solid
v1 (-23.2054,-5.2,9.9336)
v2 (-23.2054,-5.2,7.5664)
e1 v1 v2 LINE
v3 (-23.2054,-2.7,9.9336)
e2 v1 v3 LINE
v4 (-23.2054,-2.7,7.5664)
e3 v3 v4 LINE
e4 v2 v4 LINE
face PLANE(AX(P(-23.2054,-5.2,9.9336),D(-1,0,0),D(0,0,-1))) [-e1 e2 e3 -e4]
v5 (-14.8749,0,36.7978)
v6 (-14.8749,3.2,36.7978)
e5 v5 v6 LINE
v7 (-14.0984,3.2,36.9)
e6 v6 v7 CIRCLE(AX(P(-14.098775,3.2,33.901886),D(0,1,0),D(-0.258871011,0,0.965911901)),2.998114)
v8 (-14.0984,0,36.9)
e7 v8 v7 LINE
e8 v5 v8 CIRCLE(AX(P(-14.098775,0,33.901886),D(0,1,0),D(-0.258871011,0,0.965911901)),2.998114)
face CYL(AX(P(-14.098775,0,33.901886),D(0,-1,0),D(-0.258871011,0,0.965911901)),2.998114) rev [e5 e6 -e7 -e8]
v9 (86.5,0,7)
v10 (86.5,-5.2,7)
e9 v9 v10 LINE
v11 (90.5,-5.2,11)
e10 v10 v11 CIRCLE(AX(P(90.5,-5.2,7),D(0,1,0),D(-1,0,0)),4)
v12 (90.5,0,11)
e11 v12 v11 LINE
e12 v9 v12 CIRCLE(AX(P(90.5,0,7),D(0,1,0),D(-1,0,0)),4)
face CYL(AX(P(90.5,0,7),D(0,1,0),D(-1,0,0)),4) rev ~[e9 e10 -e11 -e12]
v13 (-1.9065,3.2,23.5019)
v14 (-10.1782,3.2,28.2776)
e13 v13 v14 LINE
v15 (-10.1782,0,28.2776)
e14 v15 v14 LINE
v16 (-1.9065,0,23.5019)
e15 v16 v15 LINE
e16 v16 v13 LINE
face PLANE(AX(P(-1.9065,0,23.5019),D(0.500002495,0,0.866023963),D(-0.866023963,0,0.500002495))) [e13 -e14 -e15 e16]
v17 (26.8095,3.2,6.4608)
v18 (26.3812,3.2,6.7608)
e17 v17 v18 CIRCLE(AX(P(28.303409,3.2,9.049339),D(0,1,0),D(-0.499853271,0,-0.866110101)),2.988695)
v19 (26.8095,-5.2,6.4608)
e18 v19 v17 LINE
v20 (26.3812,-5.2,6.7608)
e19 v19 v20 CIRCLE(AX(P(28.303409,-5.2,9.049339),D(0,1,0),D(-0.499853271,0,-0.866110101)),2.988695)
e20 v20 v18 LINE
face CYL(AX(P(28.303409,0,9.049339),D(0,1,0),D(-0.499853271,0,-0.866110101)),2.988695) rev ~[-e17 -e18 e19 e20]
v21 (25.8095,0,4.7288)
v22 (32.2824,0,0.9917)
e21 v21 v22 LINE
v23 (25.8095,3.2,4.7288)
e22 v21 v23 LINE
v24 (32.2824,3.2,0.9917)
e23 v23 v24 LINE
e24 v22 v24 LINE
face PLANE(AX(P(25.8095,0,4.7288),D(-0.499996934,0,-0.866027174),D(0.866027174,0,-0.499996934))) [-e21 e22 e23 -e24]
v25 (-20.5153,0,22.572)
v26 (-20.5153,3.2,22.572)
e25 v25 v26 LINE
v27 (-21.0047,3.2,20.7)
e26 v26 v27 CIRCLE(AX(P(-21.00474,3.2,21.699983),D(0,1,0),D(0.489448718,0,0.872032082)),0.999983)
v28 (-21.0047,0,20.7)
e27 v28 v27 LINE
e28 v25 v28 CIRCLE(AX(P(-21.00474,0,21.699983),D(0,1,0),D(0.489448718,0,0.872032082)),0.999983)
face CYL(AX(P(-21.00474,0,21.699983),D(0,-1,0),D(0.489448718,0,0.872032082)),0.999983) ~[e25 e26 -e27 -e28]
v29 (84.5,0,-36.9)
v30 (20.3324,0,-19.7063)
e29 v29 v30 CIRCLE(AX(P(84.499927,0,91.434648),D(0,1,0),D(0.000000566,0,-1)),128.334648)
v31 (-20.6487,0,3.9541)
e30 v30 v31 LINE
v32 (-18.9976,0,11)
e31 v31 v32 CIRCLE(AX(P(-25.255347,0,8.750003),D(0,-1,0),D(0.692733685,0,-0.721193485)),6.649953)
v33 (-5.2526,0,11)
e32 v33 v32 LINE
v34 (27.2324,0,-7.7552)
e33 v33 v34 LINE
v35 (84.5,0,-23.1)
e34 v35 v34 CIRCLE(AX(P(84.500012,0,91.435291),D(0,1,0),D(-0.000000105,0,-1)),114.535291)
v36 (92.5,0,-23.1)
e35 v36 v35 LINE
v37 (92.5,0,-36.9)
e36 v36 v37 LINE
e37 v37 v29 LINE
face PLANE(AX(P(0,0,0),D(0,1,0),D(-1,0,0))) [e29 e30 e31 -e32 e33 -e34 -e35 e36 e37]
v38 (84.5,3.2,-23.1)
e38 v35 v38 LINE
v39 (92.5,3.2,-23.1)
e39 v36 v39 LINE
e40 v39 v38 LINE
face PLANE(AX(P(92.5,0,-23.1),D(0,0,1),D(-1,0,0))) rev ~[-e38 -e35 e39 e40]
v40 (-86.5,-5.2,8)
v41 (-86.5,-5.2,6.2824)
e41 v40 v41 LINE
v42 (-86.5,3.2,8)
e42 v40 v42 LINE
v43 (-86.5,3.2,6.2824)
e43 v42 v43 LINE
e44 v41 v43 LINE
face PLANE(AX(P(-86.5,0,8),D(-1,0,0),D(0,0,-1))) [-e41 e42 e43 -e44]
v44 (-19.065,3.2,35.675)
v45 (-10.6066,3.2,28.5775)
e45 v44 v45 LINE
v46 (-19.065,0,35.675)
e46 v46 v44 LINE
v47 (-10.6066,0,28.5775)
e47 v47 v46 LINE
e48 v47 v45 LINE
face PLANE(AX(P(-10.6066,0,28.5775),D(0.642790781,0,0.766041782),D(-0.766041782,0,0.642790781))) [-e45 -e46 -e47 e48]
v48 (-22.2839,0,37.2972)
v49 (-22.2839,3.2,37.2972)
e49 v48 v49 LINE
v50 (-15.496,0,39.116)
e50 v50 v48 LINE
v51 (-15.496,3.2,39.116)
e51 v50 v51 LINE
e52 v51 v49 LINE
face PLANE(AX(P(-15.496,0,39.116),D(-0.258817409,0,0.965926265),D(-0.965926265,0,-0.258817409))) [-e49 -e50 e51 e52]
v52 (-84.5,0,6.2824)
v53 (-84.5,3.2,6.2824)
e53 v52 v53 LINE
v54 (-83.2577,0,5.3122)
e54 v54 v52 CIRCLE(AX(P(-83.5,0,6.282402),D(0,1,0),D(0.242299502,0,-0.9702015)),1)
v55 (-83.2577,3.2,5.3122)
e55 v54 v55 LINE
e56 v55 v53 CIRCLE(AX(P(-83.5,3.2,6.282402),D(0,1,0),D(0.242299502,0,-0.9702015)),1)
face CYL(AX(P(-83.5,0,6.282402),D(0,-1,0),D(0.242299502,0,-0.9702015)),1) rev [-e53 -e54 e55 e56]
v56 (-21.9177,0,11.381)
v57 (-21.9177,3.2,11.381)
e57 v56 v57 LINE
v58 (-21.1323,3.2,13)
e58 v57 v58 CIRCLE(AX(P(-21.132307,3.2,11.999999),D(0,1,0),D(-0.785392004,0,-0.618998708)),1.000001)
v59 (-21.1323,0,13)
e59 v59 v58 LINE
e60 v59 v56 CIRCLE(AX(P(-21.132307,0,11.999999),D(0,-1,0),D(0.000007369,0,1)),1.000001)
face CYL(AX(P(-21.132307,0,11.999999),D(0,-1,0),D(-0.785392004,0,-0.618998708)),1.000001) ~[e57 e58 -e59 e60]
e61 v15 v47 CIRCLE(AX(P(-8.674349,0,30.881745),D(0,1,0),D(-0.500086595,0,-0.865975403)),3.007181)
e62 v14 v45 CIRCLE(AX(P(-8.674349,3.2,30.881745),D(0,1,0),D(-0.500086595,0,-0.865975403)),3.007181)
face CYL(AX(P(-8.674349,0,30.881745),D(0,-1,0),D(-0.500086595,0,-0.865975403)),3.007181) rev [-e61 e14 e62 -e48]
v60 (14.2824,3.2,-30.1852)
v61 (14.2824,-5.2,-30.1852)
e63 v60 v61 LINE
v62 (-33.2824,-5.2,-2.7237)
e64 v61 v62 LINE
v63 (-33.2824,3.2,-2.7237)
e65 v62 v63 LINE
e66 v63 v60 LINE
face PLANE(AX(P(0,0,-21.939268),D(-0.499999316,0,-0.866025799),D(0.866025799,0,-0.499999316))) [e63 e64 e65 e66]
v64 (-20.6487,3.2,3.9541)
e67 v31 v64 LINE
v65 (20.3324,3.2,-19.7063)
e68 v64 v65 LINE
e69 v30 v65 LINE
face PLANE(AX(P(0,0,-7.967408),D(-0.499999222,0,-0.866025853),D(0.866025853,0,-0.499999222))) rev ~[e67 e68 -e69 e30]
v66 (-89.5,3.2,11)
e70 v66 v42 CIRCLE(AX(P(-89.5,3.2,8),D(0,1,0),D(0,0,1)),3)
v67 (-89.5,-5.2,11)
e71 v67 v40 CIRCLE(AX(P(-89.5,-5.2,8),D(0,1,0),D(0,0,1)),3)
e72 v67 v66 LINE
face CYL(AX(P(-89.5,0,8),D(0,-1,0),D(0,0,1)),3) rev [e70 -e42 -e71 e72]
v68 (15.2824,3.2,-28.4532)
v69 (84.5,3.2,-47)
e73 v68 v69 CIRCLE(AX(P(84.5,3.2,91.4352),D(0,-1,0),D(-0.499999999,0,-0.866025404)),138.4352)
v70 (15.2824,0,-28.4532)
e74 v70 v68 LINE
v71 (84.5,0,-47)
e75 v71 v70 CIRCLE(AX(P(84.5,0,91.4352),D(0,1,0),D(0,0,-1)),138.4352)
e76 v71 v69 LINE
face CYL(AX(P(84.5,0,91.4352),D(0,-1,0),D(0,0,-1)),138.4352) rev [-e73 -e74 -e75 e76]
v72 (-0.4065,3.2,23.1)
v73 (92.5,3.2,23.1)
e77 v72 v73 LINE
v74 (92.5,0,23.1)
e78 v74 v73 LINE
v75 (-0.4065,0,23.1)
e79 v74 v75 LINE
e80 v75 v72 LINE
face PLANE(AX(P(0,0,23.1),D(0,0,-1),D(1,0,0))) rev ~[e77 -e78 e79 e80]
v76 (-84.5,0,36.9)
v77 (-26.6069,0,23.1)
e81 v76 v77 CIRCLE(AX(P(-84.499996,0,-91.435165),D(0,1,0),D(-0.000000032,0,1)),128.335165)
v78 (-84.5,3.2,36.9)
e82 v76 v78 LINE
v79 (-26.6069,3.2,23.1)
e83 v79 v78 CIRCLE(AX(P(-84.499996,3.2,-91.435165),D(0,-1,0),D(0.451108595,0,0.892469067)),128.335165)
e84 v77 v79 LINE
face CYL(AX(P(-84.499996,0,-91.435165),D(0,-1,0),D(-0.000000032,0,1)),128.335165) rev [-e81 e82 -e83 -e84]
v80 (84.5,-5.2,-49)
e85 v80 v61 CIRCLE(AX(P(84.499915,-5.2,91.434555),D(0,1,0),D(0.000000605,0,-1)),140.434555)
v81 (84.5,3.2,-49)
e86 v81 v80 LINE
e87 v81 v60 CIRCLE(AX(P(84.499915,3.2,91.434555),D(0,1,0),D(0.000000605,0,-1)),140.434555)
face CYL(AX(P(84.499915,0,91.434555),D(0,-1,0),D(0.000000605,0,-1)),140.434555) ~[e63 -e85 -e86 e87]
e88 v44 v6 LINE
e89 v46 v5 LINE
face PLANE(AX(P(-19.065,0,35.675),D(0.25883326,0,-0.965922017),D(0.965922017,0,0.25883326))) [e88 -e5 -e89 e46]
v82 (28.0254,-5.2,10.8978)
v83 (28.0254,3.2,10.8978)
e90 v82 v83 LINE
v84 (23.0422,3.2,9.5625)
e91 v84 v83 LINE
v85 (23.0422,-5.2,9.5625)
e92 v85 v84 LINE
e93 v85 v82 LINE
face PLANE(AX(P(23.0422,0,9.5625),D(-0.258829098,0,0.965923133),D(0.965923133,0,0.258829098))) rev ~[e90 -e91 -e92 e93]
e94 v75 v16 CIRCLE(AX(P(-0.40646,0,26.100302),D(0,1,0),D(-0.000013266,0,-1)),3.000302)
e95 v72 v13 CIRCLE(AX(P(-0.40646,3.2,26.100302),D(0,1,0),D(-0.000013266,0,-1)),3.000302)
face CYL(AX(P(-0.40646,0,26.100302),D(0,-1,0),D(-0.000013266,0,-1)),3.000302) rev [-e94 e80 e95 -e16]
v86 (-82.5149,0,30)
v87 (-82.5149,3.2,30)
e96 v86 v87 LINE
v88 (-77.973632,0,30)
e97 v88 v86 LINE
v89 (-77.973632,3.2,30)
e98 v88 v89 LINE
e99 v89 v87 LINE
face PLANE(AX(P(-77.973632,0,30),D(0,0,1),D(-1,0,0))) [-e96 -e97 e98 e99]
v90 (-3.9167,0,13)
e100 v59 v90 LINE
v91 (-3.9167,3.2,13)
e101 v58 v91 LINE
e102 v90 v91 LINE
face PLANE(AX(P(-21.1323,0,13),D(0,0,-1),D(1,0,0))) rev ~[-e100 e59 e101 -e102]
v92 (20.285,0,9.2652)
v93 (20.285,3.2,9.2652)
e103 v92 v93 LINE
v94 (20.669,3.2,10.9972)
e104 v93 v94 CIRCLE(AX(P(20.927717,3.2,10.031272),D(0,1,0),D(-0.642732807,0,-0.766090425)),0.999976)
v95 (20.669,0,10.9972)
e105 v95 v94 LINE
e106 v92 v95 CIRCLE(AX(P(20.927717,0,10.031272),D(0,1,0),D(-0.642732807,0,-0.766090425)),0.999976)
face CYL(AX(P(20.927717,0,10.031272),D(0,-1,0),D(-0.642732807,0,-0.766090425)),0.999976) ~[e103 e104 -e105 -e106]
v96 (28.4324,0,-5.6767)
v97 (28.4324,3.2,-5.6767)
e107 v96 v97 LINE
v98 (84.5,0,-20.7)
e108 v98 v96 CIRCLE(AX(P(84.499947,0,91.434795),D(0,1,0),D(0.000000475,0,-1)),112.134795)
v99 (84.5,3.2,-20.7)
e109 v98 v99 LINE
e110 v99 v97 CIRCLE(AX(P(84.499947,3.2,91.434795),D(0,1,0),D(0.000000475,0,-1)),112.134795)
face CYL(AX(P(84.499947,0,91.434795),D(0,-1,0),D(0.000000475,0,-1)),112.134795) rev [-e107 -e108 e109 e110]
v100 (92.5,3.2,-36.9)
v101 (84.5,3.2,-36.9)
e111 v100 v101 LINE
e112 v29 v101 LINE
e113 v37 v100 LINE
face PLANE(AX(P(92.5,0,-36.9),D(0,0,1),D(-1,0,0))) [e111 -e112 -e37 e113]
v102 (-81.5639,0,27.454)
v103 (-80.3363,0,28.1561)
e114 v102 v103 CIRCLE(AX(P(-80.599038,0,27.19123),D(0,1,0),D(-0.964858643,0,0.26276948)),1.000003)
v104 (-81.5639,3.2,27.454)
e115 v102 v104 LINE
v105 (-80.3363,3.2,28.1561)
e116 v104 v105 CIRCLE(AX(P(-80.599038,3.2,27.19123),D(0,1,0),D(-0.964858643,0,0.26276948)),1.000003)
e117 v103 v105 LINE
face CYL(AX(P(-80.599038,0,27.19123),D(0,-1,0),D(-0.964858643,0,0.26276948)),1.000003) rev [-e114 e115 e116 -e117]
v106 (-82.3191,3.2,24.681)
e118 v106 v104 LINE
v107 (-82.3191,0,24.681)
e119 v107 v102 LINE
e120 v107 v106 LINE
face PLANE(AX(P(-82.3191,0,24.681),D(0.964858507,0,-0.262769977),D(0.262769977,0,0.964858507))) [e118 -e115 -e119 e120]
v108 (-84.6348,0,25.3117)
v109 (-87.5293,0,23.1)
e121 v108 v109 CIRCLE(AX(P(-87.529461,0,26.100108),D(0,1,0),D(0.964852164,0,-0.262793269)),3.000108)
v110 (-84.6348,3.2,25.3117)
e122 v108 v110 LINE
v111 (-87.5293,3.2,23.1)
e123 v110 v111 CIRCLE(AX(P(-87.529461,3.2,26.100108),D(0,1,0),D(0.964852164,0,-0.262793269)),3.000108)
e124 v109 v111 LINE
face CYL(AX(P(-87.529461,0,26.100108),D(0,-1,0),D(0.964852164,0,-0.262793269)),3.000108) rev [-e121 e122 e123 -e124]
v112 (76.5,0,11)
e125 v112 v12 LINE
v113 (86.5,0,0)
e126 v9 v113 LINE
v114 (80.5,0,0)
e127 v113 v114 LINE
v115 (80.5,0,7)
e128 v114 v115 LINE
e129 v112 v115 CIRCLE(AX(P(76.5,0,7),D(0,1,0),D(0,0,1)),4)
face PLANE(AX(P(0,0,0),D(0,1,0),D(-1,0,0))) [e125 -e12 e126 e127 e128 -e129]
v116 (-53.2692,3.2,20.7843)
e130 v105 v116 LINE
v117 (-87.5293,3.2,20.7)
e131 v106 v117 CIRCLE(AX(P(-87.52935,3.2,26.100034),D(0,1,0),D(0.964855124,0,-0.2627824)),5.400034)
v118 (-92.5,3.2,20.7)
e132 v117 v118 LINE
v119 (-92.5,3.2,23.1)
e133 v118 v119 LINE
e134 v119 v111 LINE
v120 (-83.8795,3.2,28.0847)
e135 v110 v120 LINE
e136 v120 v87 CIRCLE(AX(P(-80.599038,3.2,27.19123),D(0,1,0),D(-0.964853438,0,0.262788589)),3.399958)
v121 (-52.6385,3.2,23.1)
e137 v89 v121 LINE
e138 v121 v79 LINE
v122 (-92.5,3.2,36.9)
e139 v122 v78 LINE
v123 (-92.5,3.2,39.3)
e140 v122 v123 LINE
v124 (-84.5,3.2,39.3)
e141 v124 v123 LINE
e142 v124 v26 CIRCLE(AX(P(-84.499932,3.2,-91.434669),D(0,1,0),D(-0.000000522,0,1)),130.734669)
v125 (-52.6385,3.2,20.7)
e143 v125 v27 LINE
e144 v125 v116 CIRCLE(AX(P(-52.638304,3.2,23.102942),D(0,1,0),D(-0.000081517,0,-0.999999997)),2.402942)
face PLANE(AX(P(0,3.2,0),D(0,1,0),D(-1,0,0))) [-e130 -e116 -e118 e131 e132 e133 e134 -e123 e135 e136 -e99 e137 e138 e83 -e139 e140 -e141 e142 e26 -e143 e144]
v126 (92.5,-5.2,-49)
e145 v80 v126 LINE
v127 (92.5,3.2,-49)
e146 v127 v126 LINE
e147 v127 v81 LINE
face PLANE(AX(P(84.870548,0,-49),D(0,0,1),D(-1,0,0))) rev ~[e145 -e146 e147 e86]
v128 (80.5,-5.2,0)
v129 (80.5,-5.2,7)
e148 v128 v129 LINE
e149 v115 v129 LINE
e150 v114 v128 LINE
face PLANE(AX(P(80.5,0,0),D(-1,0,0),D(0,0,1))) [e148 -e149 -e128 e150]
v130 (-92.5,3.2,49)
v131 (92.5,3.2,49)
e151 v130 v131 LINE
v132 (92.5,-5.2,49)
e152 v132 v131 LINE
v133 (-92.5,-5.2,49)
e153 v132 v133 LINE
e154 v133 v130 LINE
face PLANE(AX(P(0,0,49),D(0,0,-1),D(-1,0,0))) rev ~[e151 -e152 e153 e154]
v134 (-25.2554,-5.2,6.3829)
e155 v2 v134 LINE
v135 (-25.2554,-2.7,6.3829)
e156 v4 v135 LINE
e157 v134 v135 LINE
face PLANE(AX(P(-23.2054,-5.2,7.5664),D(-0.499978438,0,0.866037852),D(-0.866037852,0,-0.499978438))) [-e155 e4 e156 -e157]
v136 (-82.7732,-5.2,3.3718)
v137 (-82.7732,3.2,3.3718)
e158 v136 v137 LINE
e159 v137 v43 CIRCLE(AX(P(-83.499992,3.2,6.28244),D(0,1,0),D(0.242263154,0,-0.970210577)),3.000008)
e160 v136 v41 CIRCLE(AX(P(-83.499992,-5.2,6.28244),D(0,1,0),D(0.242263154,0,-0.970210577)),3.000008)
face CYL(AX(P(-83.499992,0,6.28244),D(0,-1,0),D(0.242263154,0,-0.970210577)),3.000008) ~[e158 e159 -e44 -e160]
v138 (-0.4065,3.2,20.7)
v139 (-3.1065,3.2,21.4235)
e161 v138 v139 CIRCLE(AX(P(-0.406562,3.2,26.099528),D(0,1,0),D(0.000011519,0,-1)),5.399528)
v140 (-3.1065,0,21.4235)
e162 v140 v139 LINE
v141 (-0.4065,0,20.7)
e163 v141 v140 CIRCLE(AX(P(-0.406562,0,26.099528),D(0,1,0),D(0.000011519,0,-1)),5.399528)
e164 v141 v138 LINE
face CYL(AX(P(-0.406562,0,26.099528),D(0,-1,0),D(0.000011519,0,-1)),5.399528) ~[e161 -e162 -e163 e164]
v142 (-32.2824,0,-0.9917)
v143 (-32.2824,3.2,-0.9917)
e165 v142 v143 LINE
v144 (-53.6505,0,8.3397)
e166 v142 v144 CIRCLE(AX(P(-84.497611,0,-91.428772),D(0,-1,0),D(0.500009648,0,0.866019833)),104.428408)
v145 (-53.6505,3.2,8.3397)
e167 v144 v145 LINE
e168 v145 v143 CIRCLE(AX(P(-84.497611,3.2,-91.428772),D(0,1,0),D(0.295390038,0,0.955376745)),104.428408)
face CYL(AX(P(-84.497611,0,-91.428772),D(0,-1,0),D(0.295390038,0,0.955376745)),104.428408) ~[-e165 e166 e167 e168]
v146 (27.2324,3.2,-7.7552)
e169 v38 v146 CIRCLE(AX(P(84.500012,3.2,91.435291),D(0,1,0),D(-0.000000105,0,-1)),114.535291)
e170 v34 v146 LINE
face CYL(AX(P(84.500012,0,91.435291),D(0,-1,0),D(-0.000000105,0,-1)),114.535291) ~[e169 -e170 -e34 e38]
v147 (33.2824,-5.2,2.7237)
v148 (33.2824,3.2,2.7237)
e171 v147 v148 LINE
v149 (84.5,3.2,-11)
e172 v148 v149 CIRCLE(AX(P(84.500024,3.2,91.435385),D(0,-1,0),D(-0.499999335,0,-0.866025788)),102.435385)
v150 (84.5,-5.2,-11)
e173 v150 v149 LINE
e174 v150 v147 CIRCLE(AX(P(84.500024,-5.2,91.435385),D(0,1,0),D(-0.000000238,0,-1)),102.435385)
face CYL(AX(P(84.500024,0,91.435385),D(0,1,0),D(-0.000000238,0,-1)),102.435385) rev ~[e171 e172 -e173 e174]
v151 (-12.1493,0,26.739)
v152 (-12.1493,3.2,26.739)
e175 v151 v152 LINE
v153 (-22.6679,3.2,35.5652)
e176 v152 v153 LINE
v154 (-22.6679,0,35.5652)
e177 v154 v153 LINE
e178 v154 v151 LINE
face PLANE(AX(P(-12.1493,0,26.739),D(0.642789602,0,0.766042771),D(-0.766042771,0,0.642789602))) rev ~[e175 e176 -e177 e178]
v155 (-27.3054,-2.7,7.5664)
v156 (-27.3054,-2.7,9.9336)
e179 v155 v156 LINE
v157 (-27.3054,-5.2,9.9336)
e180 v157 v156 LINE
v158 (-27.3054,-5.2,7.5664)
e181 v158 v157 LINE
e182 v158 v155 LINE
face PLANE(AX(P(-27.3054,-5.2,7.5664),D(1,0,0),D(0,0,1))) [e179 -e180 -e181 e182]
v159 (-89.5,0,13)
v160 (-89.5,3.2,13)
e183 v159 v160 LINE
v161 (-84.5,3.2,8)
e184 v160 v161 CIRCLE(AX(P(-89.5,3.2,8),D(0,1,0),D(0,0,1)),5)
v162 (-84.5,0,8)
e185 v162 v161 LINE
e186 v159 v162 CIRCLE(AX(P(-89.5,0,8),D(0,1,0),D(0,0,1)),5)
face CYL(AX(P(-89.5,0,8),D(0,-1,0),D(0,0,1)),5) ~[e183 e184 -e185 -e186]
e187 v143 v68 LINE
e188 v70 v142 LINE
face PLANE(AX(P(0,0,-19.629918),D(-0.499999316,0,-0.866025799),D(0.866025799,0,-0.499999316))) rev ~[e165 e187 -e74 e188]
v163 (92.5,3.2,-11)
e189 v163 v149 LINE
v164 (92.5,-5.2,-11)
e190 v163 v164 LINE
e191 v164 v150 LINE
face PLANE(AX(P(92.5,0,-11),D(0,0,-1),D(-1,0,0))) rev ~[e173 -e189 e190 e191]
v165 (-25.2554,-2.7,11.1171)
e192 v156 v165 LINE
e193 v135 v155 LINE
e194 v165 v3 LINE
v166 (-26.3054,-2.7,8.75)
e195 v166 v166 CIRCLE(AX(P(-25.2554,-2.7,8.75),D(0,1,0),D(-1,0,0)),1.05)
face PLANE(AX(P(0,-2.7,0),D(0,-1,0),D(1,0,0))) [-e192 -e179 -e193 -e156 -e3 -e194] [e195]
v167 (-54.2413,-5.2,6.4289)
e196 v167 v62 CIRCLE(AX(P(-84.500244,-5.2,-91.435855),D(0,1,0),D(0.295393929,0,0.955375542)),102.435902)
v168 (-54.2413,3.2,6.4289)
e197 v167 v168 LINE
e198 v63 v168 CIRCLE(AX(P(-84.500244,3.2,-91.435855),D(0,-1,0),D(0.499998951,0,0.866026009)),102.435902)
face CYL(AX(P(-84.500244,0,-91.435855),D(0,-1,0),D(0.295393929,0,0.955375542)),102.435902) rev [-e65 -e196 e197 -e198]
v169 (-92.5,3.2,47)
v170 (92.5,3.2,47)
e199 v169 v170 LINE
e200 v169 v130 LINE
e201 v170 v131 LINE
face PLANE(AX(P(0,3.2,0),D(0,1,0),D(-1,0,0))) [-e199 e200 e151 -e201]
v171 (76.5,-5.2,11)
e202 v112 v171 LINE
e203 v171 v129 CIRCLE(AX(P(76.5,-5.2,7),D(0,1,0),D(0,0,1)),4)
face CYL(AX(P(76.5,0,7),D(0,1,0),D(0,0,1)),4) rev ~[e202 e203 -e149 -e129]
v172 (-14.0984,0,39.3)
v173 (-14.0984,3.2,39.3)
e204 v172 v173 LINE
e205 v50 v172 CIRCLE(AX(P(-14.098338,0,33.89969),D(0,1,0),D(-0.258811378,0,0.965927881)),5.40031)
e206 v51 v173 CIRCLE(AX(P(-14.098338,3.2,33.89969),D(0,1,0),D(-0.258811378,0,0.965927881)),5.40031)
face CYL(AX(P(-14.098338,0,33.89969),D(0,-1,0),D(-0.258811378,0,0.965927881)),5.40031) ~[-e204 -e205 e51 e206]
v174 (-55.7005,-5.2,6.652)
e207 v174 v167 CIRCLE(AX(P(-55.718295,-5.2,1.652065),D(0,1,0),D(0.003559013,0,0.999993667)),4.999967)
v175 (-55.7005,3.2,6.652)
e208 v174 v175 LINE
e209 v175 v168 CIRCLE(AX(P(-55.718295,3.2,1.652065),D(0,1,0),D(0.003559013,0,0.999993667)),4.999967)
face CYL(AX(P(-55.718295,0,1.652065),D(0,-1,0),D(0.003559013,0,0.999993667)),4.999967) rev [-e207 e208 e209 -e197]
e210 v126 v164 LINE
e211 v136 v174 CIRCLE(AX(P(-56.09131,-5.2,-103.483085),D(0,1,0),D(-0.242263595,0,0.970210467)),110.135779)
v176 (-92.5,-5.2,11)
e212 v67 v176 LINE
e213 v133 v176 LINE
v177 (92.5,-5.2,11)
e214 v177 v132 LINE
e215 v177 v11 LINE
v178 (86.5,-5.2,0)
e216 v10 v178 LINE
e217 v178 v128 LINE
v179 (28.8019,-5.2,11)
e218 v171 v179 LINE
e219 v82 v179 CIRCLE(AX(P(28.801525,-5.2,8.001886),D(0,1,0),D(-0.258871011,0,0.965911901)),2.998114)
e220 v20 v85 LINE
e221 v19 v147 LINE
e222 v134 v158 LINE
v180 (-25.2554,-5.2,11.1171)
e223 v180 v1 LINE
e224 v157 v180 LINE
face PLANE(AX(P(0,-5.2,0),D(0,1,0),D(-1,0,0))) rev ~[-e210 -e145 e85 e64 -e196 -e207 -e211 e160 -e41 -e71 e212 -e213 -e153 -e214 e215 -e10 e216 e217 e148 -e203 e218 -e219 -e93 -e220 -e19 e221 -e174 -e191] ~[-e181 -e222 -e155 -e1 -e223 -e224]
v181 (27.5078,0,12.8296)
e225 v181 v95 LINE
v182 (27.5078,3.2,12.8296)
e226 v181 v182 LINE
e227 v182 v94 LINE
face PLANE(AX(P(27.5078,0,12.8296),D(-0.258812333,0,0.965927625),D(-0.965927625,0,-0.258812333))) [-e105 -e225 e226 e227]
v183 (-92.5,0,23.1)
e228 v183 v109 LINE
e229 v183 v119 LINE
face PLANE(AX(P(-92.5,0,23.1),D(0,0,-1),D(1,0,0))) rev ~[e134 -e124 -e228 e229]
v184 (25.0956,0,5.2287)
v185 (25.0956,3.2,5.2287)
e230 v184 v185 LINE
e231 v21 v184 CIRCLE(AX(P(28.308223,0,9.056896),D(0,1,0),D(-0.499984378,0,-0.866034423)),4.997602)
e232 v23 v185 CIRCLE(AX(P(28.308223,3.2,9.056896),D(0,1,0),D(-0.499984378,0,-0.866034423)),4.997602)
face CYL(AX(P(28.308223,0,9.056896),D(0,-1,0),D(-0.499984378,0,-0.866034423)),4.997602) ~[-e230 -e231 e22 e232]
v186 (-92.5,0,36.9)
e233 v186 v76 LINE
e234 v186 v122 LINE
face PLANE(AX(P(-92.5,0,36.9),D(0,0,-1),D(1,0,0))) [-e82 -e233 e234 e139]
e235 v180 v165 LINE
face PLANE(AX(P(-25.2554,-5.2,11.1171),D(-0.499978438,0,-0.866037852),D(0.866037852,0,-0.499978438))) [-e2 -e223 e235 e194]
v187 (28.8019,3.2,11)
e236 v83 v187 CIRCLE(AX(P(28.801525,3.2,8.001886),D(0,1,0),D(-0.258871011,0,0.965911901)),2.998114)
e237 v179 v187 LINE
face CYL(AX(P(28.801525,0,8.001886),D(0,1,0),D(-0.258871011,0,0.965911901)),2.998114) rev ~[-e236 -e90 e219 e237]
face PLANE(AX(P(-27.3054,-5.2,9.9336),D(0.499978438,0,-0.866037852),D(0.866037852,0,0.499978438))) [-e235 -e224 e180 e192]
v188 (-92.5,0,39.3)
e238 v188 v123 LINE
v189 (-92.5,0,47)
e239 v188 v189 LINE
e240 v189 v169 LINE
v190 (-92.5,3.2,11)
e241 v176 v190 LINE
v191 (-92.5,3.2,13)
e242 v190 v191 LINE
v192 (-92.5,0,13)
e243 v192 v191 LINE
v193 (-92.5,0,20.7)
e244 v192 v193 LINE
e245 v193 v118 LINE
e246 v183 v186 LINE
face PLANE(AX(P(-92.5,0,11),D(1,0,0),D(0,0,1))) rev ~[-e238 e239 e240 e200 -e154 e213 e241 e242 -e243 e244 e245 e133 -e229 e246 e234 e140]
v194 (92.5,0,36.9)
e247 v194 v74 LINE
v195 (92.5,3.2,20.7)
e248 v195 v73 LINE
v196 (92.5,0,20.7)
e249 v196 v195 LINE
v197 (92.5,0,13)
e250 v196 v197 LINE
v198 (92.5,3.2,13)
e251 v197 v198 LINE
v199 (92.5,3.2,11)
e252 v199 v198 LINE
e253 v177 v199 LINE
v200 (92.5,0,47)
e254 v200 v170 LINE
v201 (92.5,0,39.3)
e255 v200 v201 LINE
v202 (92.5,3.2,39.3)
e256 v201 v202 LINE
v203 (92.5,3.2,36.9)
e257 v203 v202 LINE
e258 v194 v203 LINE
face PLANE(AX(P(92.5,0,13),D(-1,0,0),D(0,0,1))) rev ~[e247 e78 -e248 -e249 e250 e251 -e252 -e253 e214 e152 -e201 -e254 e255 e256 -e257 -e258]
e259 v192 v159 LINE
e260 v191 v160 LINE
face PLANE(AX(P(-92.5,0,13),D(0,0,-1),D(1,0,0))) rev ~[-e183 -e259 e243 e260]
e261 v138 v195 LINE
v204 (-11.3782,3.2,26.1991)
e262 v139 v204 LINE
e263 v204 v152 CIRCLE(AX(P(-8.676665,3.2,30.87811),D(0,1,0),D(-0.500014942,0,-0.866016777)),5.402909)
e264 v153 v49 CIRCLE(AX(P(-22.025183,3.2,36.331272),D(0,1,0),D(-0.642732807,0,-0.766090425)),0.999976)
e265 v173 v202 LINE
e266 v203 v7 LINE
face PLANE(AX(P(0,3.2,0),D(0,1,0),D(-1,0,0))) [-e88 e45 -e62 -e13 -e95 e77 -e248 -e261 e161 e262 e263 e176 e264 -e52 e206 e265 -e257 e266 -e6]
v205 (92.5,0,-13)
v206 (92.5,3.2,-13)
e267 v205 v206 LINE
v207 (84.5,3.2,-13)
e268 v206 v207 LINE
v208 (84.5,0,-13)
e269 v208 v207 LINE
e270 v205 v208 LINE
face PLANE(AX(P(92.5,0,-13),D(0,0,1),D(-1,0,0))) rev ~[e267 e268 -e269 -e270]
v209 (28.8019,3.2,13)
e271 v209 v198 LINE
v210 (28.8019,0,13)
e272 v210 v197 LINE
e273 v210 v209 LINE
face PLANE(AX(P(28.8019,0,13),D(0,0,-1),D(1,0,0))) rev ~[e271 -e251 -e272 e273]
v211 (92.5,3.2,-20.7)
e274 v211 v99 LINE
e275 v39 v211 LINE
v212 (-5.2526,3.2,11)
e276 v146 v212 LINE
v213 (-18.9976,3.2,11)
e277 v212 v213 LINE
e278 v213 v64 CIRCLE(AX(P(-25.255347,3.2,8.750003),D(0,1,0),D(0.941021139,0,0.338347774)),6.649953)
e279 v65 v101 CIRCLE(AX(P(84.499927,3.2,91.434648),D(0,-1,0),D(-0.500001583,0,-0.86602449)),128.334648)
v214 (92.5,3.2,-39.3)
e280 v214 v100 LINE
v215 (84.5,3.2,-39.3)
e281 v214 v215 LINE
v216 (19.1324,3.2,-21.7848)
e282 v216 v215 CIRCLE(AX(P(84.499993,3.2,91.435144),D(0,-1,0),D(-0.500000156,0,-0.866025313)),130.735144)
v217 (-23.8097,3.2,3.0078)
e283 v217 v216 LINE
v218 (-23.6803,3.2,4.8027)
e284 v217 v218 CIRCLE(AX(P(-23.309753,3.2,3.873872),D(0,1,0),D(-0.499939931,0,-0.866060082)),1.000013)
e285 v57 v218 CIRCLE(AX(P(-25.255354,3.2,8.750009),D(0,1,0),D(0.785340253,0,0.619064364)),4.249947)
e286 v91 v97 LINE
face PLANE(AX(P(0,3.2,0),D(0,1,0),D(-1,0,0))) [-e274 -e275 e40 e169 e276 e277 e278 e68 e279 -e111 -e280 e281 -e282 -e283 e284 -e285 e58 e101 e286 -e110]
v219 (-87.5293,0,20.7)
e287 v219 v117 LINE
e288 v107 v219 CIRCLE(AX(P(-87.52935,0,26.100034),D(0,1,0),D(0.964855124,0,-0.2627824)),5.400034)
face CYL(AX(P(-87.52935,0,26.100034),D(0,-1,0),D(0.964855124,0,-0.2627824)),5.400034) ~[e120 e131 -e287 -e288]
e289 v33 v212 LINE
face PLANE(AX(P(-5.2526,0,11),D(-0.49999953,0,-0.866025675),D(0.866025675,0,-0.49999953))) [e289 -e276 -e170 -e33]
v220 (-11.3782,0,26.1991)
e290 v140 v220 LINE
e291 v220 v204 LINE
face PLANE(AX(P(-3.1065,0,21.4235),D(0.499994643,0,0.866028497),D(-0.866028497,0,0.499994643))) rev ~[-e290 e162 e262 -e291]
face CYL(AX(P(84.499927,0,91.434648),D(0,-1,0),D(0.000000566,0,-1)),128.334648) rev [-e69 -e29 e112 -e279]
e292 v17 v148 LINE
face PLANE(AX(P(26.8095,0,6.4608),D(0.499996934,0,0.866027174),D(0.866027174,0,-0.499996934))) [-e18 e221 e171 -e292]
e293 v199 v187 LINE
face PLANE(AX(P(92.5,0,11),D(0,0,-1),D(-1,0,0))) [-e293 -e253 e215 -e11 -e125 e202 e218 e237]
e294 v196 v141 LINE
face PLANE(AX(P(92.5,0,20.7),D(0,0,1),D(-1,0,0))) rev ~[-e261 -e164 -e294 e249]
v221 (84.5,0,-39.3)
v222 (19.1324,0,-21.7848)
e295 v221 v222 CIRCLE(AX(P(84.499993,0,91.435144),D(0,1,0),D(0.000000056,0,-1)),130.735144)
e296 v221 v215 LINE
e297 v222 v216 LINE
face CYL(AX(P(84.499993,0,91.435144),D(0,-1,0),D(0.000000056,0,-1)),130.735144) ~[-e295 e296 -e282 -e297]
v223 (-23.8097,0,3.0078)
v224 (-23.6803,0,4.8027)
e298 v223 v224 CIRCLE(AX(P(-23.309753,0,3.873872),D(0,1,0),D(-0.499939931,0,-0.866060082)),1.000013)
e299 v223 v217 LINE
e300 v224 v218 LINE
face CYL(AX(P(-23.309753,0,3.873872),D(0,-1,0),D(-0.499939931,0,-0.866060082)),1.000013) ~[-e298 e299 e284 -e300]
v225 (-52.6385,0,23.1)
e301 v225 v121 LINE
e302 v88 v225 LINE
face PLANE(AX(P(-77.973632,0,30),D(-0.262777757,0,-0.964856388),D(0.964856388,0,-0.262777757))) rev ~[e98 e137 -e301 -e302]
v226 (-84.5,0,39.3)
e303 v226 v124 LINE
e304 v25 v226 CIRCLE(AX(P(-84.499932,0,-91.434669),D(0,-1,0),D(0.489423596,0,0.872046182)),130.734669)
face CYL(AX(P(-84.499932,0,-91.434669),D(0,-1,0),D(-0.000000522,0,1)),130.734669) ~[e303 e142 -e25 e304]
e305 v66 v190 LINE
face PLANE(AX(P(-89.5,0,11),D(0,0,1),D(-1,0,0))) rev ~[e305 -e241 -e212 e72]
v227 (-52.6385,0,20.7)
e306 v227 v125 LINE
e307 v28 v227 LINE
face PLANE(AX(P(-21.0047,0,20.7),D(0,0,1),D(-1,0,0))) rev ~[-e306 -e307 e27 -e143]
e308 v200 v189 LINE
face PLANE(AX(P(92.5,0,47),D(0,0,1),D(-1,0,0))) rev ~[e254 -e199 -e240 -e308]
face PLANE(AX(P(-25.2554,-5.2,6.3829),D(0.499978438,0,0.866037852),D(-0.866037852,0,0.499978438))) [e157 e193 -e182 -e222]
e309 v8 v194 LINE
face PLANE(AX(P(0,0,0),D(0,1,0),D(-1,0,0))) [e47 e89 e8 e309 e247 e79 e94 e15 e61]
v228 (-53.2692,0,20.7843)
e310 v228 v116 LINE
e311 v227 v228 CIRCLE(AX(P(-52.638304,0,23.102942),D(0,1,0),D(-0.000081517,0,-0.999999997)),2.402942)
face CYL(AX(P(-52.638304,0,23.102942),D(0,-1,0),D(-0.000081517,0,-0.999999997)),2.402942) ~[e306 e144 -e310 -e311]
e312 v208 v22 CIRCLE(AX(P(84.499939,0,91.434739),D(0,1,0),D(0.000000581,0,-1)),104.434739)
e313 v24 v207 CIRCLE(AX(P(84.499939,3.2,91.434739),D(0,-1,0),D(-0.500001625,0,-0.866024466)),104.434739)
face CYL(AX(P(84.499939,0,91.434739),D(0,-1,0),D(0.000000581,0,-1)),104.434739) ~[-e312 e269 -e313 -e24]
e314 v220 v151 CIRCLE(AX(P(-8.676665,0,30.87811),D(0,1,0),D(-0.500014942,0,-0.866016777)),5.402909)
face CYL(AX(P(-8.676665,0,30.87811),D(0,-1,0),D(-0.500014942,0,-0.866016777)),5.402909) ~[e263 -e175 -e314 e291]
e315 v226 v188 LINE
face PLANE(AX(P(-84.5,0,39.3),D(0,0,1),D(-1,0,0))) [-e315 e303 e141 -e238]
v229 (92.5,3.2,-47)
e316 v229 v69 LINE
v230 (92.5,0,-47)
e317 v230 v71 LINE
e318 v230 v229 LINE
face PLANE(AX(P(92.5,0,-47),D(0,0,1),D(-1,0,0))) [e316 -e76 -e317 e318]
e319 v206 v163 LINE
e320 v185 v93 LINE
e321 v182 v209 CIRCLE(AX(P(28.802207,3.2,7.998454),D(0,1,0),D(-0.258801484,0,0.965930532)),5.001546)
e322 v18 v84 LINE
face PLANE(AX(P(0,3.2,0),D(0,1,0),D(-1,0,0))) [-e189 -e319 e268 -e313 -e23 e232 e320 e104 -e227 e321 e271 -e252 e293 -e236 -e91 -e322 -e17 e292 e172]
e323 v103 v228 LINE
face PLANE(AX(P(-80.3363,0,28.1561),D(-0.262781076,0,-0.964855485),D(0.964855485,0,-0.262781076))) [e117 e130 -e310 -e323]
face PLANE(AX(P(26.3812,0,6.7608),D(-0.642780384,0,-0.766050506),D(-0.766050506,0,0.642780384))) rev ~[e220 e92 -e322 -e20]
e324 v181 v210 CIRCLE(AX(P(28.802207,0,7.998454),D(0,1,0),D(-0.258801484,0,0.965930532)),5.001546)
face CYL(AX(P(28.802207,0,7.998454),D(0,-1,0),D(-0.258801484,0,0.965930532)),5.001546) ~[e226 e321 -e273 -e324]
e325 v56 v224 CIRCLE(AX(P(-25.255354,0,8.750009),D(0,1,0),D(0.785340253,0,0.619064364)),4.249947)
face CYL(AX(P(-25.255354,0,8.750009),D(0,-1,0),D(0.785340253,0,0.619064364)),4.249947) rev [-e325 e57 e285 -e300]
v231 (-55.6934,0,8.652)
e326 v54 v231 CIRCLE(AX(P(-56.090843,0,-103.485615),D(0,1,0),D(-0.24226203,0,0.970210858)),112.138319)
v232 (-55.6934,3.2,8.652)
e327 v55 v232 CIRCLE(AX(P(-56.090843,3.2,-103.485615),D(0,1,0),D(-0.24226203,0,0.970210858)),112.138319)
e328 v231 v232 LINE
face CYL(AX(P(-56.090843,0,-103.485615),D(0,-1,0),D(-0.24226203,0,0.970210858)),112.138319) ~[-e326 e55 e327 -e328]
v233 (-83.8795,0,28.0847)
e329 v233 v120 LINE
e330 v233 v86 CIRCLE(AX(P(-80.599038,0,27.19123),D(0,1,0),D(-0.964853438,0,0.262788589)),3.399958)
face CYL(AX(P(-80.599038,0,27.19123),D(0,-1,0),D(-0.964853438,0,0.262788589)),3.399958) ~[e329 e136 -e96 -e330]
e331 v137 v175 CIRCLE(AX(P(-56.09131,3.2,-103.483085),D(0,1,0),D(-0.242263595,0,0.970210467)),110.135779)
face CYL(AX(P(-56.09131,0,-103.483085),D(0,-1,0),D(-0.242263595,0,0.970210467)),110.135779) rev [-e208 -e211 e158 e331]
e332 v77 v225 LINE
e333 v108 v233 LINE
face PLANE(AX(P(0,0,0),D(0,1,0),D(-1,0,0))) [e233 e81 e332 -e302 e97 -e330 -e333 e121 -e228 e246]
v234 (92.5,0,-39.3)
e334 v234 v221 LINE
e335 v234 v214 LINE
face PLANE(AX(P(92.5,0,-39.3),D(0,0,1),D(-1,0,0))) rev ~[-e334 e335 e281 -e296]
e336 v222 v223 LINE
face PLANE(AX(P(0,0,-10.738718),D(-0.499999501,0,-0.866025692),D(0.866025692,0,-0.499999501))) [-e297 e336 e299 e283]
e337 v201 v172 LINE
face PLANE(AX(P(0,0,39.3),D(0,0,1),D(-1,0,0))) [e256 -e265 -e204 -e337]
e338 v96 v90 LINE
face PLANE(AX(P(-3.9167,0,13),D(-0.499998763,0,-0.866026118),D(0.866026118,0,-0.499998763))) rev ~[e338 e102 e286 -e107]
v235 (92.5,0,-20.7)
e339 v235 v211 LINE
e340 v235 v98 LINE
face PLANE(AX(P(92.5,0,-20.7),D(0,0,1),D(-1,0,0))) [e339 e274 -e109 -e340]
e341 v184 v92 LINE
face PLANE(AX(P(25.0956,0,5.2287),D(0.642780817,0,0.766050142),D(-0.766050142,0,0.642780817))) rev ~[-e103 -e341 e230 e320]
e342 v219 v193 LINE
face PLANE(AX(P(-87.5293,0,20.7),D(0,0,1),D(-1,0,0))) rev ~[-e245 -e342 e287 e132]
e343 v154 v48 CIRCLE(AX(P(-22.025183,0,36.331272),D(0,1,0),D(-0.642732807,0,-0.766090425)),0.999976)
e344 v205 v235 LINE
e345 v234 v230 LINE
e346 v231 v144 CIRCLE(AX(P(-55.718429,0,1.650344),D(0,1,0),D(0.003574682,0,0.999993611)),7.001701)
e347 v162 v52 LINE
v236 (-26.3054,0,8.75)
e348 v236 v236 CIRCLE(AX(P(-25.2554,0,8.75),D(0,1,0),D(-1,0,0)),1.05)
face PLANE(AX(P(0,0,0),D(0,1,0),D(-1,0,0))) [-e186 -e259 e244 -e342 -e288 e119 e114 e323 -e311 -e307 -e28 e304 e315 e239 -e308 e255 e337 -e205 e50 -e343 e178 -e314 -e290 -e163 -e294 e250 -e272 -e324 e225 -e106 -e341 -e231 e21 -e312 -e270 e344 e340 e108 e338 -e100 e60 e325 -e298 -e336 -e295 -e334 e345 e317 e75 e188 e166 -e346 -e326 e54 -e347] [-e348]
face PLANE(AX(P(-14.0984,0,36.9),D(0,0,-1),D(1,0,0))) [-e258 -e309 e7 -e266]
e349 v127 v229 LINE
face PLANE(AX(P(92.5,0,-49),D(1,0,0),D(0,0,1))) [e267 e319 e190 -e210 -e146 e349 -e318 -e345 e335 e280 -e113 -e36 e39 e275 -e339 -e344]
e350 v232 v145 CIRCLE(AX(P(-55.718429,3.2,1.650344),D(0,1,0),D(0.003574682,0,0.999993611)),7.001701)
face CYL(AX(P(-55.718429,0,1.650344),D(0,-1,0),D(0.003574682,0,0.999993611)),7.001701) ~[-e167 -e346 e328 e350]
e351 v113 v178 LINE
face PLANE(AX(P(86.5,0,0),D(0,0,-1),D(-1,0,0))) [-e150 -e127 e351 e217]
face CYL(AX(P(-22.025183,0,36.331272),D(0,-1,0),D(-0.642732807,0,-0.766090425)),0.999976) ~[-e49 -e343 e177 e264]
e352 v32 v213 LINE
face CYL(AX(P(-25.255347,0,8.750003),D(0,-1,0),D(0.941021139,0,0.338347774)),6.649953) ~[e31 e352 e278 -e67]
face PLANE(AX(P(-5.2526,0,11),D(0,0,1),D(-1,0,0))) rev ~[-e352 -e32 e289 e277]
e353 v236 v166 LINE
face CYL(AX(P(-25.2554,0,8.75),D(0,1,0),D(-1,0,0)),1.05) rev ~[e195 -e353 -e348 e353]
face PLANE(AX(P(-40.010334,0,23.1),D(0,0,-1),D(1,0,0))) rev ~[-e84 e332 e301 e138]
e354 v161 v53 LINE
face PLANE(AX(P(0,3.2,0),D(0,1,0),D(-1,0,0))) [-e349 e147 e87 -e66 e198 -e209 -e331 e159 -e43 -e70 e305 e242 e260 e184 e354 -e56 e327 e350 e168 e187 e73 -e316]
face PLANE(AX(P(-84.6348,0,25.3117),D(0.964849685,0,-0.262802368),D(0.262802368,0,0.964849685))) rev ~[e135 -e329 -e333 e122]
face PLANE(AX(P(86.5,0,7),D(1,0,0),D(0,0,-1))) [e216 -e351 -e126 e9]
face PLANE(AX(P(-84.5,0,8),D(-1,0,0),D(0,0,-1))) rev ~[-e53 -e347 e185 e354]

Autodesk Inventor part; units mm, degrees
ref_plane "YZ Plane" through (0, 0, 0) normal (1, 0, 0) x (0, 1, 0)
ref_plane "XZ Plane" through (0, 0, 0) normal (0, 1, 0) x (-1, 0, 0)
ref_plane "XY Plane" through (0, 0, 0) normal (0, 0, 1) x (1, 0, 0)
sketch "スケッチ1" plane through (0, 0, 0) normal (0, 1, 0) x (-1, 0, 0)
  line L0 (0, -142.4661) -> (0, 130.4188) projected
  line L1 (-213.4501, 0) -> (176.9459, 0) projected
  line L2 (92.5, -64.2765) -> (92.5, -56.9696)
  line L3 (-92.5, -64.2765) -> (-92.5, -56.9696)
  line L4 (-117.7076, 30) -> (-128.5713, 30)
  line L5 (-121.2644, 36.9) -> (-128.5713, 36.9)
  line L6 (-121.2644, 39.3) -> (-128.5713, 39.3)
  line L7 (-121.2644, 47) -> (-128.5713, 47)
  line L8 (-121.2644, 49) -> (-128.5713, 49)
  line L9 (-121.2644, 23.1) -> (-128.5713, 23.1)
  line L10 (-121.2644, 20.7) -> (-128.5713, 20.7)
  line L11 (-121.2644, 13) -> (-128.5713, 13)
  line L12 (-121.2644, 11) -> (-128.5713, 11)
  line L13 (-117.7076, -30) -> (-128.5713, -30)
  line L14 (-121.2644, -36.9) -> (-128.5713, -36.9)
  line L15 (-121.2644, -39.3) -> (-128.5713, -39.3)
  line L16 (-121.2644, -47) -> (-128.5713, -47)
  line L17 (-121.2644, -49) -> (-128.5713, -49)
  line L18 (-121.2644, -23.1) -> (-128.5713, -23.1)
  line L19 (-121.2644, -20.7) -> (-128.5713, -20.7)
  line L20 (-121.2644, -13) -> (-128.5713, -13)
  line L21 (-121.2644, -11) -> (-128.5713, -11)
  line L22 (-112.5706, 30) -> (121.1751, 30)
  line L23 (-129.3491, -74.6797) -> (118.7156, 68.5405)
  line L24 (-145.7027, -76.1541) -> (-152.6826, -80.1839)
  line L25 (-145.8493, -73.4674) -> (-152.8292, -77.4973)
  line L26 (-149.6993, -66.799) -> (-156.6792, -70.8289)
  line L27 (-150.6993, -65.067) -> (-157.6792, -69.0968)
  line L28 (-128.5713, -49) -> (-128.5713, -11)
  line L29 (-128.5713, 11) -> (-128.5713, 49)
  line L30 (-157.6792, -69.0968) -> (-138.6792, -102.0058)
  line L31 (-138.8027, -88.1052) -> (-145.7826, -92.135)
  line L32 (-136.5493, -89.5755) -> (-143.5292, -93.6053)
  line L33 (-132.6993, -96.2439) -> (-139.6792, -100.2737)
  line L34 (-131.6993, -97.976) -> (-138.6792, -102.0058)
  line L35 (-92.5, 49) -> (92.5, 49)
  line L36 (-92.5, -49) -> (-84.5, -49)
  line L37 (-92.5, -49) -> (-92.5, -11)
  line L38 (-92.5, -11) -> (-84.5, -11)
  line L39 (-92.5, -13) -> (-84.5, -13)
  line L40 (-92.5, -20.7) -> (-84.5, -20.7)
  line L41 (-92.5, -23.1) -> (-84.5, -23.1)
  line L42 (-92.5, -36.9) -> (-84.5, -36.9)
  line L43 (-92.5, -39.3) -> (-84.5, -39.3)
  line L44 (-92.5, -47) -> (-84.5, -47)
  line L45 (-92.5, 47) -> (92.5, 47)
  line L46 (92.5, 36.9) -> (84.5, 36.9)
  line L47 (-92.5, 20.7) -> (0.4065, 20.7)
  line L48 (92.5, 13) -> (89.5, 13)
  line L49 (92.5, 11) -> (92.5, 49)
  line L50 (-92.5, 11) -> (-92.5, 49)
  line L51 (107.5, -64.2765) -> (107.5, -56.9696)
  line L52 (-107.5, -64.2765) -> (-107.5, -56.9696)
  line L53 (20.6487, 3.9541) -> (-20.3324, -19.7063)
  line L54 (23.8097, 3.0078) -> (-19.1324, -21.7848)
  line L55 (32.2824, -0.9917) -> (-15.2824, -28.4532)
  line L56 (33.2824, -2.7237) -> (-14.2824, -30.1852)
  line L57 (5.2526, 11) -> (-27.2324, -7.7552)
  line L58 (3.9167, 13) -> (-28.4324, -5.6767)
  arc A0 (-84.5, -11) -> (-33.2824, 2.7237) centre (-84.5, 91.4352) ccw
  arc A1 (-84.5, -13) -> (-32.2824, 0.9917) centre (-84.5, 91.4352) ccw
  arc A2 (-84.5, -20.7) -> (-28.4324, -5.6767) centre (-84.5, 91.4352) ccw
  arc A3 (-84.5, -23.1) -> (-27.2324, -7.7552) centre (-84.5, 91.4352) ccw
  arc A4 (-84.5, -36.9) -> (-20.3324, -19.7063) centre (-84.5, 91.4352) ccw
  arc A5 (-84.5, -39.3) -> (-19.1324, -21.7848) centre (-84.5, 91.4352) ccw
  arc A6 (-84.5, -47) -> (-15.2824, -28.4532) centre (-84.5, 91.4352) ccw
  arc A7 (-84.5, -49) -> (-14.2824, -30.1852) centre (-84.5, 91.4352) ccw
  line L59 (89.5, 11) -> (92.5, 11)
  line L60 (84.5, 39.3) -> (92.5, 39.3)
  arc A8 (54.2413, 6.4289) -> (33.2824, -2.7237) centre (84.5, -91.4352) ccw
  arc A9 (53.6505, 8.3397) -> (32.2824, -0.9917) centre (84.5, -91.4352) ccw
  line L61 (21.1323, 13) -> (3.9167, 13)
  line L62 (5.2526, 11) -> (18.9976, 11)
  line L63 (0.4065, 23.1) -> (-92.5, 23.1)
  line L64 (-25.8095, 4.7288) -> (-32.2824, 0.9917)
  line L65 (-26.8095, 6.4608) -> (-33.2824, 2.7237)
  line L66 (-92.5, 11) -> (-28.8019, 11)
  line L67 (-23.0422, 9.5625) -> (-28.0254, 10.8978)
  line L68 (-26.3812, 6.7608) -> (-23.0422, 9.5625)
  line L69 (-28.8019, 13) -> (-92.5, 13)
  line L70 (-25.0956, 5.2287) -> (-20.285, 9.2652)
  line L71 (-27.5078, 12.8296) -> (-20.669, 10.9972)
  arc A10 (-26.8095, 6.4608) -> (-26.3812, 6.7608) centre (-28.3095, 9.0589) ccw
  arc A11 (-28.0254, 10.8978) -> (-28.8019, 11) centre (-28.8019, 8) ccw
  arc A12 (-27.5078, 12.8296) -> (-28.8019, 13) centre (-28.8019, 8) ccw
  arc A13 (-25.8095, 4.7288) -> (-25.0956, 5.2287) centre (-28.3095, 9.0589) ccw
  arc A14 (-20.285, 9.2652) -> (-20.669, 10.9972) centre (-20.9278, 10.0313) ccw
  arc A15 (0.4065, 23.1) -> (1.9065, 23.5019) centre (0.4065, 26.1) ccw
  arc A16 (0.4065, 20.7) -> (3.1065, 21.4235) centre (0.4065, 26.1) ccw
  line L72 (3.1065, 21.4235) -> (11.3782, 26.1991)
  line L73 (1.9065, 23.5019) -> (10.1782, 28.2776)
  line L74 (14.0984, 36.9) -> (-92.5, 36.9)
  line L75 (15.496, 39.116) -> (22.2839, 37.2972)
  line L76 (12.1493, 26.739) -> (22.6679, 35.5652)
  line L77 (10.6066, 28.5775) -> (19.065, 35.675)
  line L78 (-92.5, 39.3) -> (14.0984, 39.3)
  line L79 (19.065, 35.675) -> (14.8749, 36.7978)
  arc A17 (10.1782, 28.2776) -> (10.6066, 28.5775) centre (8.6782, 30.8757) ccw
  arc A18 (11.3782, 26.1991) -> (12.1493, 26.739) centre (8.6782, 30.8757) ccw
  arc A19 (15.496, 39.116) -> (14.0984, 39.3) centre (14.0984, 33.9) ccw
  arc A20 (14.8749, 36.7978) -> (14.0984, 36.9) centre (14.0984, 33.9) ccw
  arc A21 (22.6679, 35.5652) -> (22.2839, 37.2972) centre (22.0251, 36.3313) ccw
  arc A22 (84.5, 39.3) -> (20.5153, 22.572) centre (84.5, -91.4352) ccw
  line L80 (84.5, -31.1736) -> (84.5, -39.0158)
  line L81 (-84.5, 55.9571) -> (-84.5, 64.7286)
  arc A23 (21.9177, 11.381) -> (23.6803, 4.8027) centre (25.2554, 8.75) ccw
  arc A24 (18.9976, 11) -> (20.6487, 3.9541) centre (25.2554, 8.75) ccw
  arc A25 (23.8097, 3.0078) -> (23.6803, 4.8027) centre (23.3097, 3.8739) ccw
  arc A26 (21.9177, 11.381) -> (21.1323, 13) centre (21.1323, 12) ccw
  arc A27 (65.4055, 19.0623) -> (31.4293, 7.3464) centre (84.5, -91.4352) ccw
  line L82 (82.3191, 24.681) -> (81.5639, 27.454)
  line L83 (80.3363, 28.1561) -> (53.2692, 20.7843)
  line L84 (84.6348, 25.3117) -> (83.8795, 28.0847)
  line L85 (79.7056, 30.4717) -> (52.6385, 23.1)
  line L86 (84.5, 8) -> (84.5, 6.2824)
  line L87 (86.5, 8) -> (86.5, 6.2824)
  line L88 (21.0047, 20.7) -> (52.6385, 20.7)
  line L89 (87.5293, 20.7) -> (92.5, 20.7)
  arc A28 (52.6385, 20.7) -> (53.2692, 20.7843) centre (52.6385, 23.1) ccw
  line L90 (92.5, 23.1) -> (87.5293, 23.1)
  line L91 (52.6385, 23.1) -> (26.6069, 23.1)
  arc A29 (89.5, 11) -> (86.5, 8) centre (89.5, 8) ccw
  arc A30 (89.5, 13) -> (84.5, 8) centre (89.5, 8) ccw
  arc A31 (82.3191, 24.681) -> (87.5293, 20.7) centre (87.5293, 26.1) ccw
  arc A32 (84.6348, 25.3117) -> (87.5293, 23.1) centre (87.5293, 26.1) ccw
  arc A33 (81.5639, 27.454) -> (80.3363, 28.1561) centre (80.599, 27.1912) ccw
  arc A34 (83.8795, 28.0847) -> (79.7056, 30.4717) centre (80.599, 27.1912) ccw
  arc A35 (83.2577, 5.3122) -> (55.6934, 8.652) centre (56.0914, -103.4826) ccw
  arc A36 (82.7732, 3.3718) -> (55.7005, 6.652) centre (56.0914, -103.4826) ccw
  arc A37 (83.2577, 5.3122) -> (84.5, 6.2824) centre (83.5, 6.2824) ccw
  arc A38 (82.7732, 3.3718) -> (86.5, 6.2824) centre (83.5, 6.2824) ccw
  arc A39 (55.7005, 6.652) -> (54.2413, 6.4289) centre (55.7183, 1.652) ccw
  arc A40 (55.6934, 8.652) -> (53.6505, 8.3397) centre (55.7183, 1.652) ccw
  circle A41 centre (25.2554, 8.75) radius 1.05
  arc A42 (84.5, 36.9) -> (26.6069, 23.1) centre (84.5, -91.4352) ccw
  arc A43 (20.5153, 22.572) -> (21.0047, 20.7) centre (21.0047, 21.7) ccw
  line L92 (-80.5, 11) -> (-86.5, 11)
  line L93 (-86.5, 7) -> (-86.5, 0)
  line L94 (-86.5, 0) -> (-80.5, 0)
  line L95 (-80.5, 0) -> (-80.5, 7)
  arc A44 (-76.5, 11) -> (-80.5, 7) centre (-76.5, 7) ccw
  arc A45 (-86.5, 7) -> (-90.5, 11) centre (-90.5, 7) ccw
  point P0 (0, 0)
  point P1 (-63.9127, -36.9)
  point P2 (25.2554, 13)
  point P3 (-18.8135, 10.5)
  point P4 (24.1395, 36.8)
  point P5 (27.3804, 5.0694)
  point P6 (83.4033, 20.7)
  point P7 (84.5, 4.9945)
  point P8 (82.5149, 30)
  point P9 (77.9735, 30)
  point P10 (-86.5, 11)
  point P11 (-80.5, 0)
  dimension "JointMW1" = 13
  dimension "d2" = 18.6
  dimension "d3" = 2.4
  dimension "d4" = 2
  dimension "d5" = 38
  dimension "d6" = 60
  dimension "d7" = 30
  dimension "d8" = 38
  dimension "d9" = 18.6
  dimension "d10" = 2
  dimension "d11" = 2.4
  dimension "d12" = 215
  dimension "d13" = 15
  dimension "d14" = 15
  dimension "d29" = 3
  dimension "d32" = 2.5
  dimension "d33" = 1.5
  dimension "d34" = 1
  dimension "d35" = 10
  dimension "d36" = 15
  dimension "d37" = 3
  dimension "d39" = 10
  dimension "d40" = 15
  dimension "d41" = 3
  dimension "d45" = 2.8
  dimension "d46" = 2.5
  dimension "d47" = 1
  dimension "d51" = 8
  dimension "d52" = 8
  dimension "d54" = 112.1352
  dimension "d55" = 8.5
  dimension "d57" = 2.4
  dimension "d58" = 1
  dimension "d59" = 112.1352
  dimension "d60" = 59.2446
  dimension "d61" = 59.2446
  dimension "d62" = 8
  dimension "d64" = 3
  dimension "d68" = 3
  dimension "d69" = 1
  dimension "d71" = 28.4086
  dimension "d72" = 116.4826
  dimension "d73" = 28.4086
  dimension "d74" = 116.4826
  dimension "d75" = 112.1352
  dimension "d76" = 1
  dimension "d78" = 5
  dimension "d80" = 2.1
  dimension "d81" = 1
  dimension "d83" = 6
  dimension "d88" = 4
extrude "押し出し1" add sketch "スケッチ1" along normal blind 3.2 contours L56 A7 L36 L23 A6 L55 L0 | L0 L55 A9 L1 A8 L56 | L54 A5 L23 A4 L53 L0 | L0 L53 L1 L54 | L1 A9 A40 A35 A37 L86 A30 L48 L49 L59 A29 L87 A38 A36 A39 A8 | L1 L53 A24 L23 A26 A23 A25 L54 | L23 L36 L37 L44 A6 | A5 L43 L37 L42 A4 L23 | L57 L1 L58 L0 | L0 L58 L61 A26 L23 A24 L62 L57 | L57 A3 L41 L37 L40 A2 L58 L1 | L47 L50 L63 L0 | L0 L63 A15 L73 A17 L77 L22 L76 A18 L72 A16 L47 | A1 L39 L37 L38 A0 L1 | L1 A0 L65 A10 L68 L67 A11 L66 L50 L69 A12 L71 A14 L70 A13 L64 A1 | L88 A43 A22 L22 A42 L91 L23 | L23 L91 L85 L22 A34 L84 A32 L90 L49 L89 A31 L82 A33 L83 A28 L88 | L74 L50 L78 L0 | L0 L78 A19 L75 A21 L76 L22 L77 L79 A20 L74 | L22 A22 L23 A42 | L23 A22 L60 L49 L46 A42 | L45 L50 L35 L0 | L0 L35 L23 L45 | L23 L35 L49 L45
extrude "押し出し2" add sketch "スケッチ1" against normal blind 5.2 contours L56 A7 L36 L23 A6 L55 L0 | L0 L55 A9 L1 A8 L56 | L55 A6 L23 A5 L54 L0 | L0 L54 L1 A9 L55 | L54 A5 L23 A4 L53 L0 | L0 L53 L1 L54 | L1 A9 A40 A35 A37 L86 A30 L48 L49 L59 A29 L87 A38 A36 A39 A8 | L53 A4 L23 L0 | L0 L1 L53 | L54 A25 A23 A26 L23 L88 A28 L83 A33 L82 A31 L89 L49 L48 A30 L86 A37 A35 A40 A9 L1 | L1 L53 A24 L23 A26 A23 A25 L54 | A6 L44 L37 L43 A5 L23 | L23 L36 L37 L44 A6 | L1 L57 L0 | L23 A4 L42 L37 L41 A3 L57 L1 | L23 A24 L53 L1 | L0 L57 L62 A24 L23 | A5 L43 L37 L42 A4 L23 | L57 L1 L58 L0 | L0 L58 L61 A26 L23 A24 L62 L57 | L57 A3 L41 L37 L40 A2 L58 L1 | L58 L1 A1 L64 A13 L70 A14 L71 A12 L69 L50 L47 L0 | L0 L47 A16 L72 A18 L76 L22 A22 A43 L88 L23 A26 L61 L58 | L58 A2 L40 L37 L39 A1 L1 | L47 L50 L63 L0 | L0 L63 A15 L73 A17 L77 L22 L76 A18 L72 A16 L47 | A1 L39 L37 L38 A0 L1 | L1 A0 L65 A10 L68 L67 A11 L66 L50 L69 A12 L71 A14 L70 A13 L64 A1 | L88 A43 A22 L22 A42 L91 L23 | L23 L91 L85 L22 A34 L84 A32 L90 L49 L89 A31 L82 A33 L83 A28 L88 | L63 L50 L22 L0 | L0 L22 L77 A17 L73 A15 L63 | L91 A42 L22 L23 | L23 L22 L85 L91 | L22 L50 L74 L0 | L0 L74 A20 L79 L77 L22 | L1 L93 A45 L66 A44 L95 | L23 A42 L46 L49 L22 A34 L85 | L22 A42 L23 | L74 L50 L78 L0 | L0 L78 A19 L75 A21 L76 L22 L77 L79 A20 L74 | L22 A22 L23 A42 | L85 A34 L22 | L23 A22 L60 L49 L46 A42 | L22 L76 A21 L75 A19 L78 L0 L45 L23 A22 | L78 L50 L45 L0 | L22 L49 L90 A32 L84 A34 | L23 L45 L49 L60 A22 | L45 L50 L35 L0 | L0 L35 L23 L45 | L23 L35 L49 L45
sketch "スケッチ2" plane through (0, -5.2, 0) normal (0, -1, 0) x (1, 0, 0)
  circle A0 centre (-25.2554, 8.75) radius 1.05 projected
  line L0 (-25.2554, 6.3829) -> (-27.3054, 7.5664)
  line L1 (-27.3054, 7.5664) -> (-27.3054, 9.9336)
  line L2 (-27.3054, 9.9336) -> (-25.2554, 11.1171)
  line L3 (-25.2554, 11.1171) -> (-23.2054, 9.9336)
  line L4 (-23.2054, 9.9336) -> (-23.2054, 7.5664)
  line L5 (-23.2054, 7.5664) -> (-25.2554, 6.3829)
  point P0 (0, 0)
  dimension "d89" = 4.1
extrude "押し出し3" cut sketch "スケッチ2" against normal blind 2.5 contours A0 | L0 L1 L2 L3 L4 L5
equation "\"d2\" = InsideWidth"
equation "\"d3\" = InnerWall"
equation "\"d4\" = OuterWall"
equation "\"d5\" = RailWidth"
equation "\"d6\" = DoubleWidth"
equation "\"d8\" = RailWidth"
equation "\"d9\" = InsideWidth"
equation "\"d10\" = OuterWall"
equation "\"d11\" = InnerWall"
equation "\"d12\" = StraightLength"
equation "\"d13\" = ConnectorLength"
equation "\"d14\" = ConnectorLength"
equation "\"BarCX\" = 28.40864"
equation "\"BarCY\" = 116.48256"
equation "\"BarR\" = 112.13524"
equation "\"BarL\" = 59.24456"
equation "\"InsideWidth\" = 18.6"
equation "\"InnerWall\" = 2.4"
equation "\"OuterWall\" = 2"
equation "\"RailWidth\" = 38"
equation "\"DoubleWidth\" = 60"
equation "\"StraightLength\" = 215"
equation "\"ConnectorLength\" = 15"
properties part number "SingleCross"
